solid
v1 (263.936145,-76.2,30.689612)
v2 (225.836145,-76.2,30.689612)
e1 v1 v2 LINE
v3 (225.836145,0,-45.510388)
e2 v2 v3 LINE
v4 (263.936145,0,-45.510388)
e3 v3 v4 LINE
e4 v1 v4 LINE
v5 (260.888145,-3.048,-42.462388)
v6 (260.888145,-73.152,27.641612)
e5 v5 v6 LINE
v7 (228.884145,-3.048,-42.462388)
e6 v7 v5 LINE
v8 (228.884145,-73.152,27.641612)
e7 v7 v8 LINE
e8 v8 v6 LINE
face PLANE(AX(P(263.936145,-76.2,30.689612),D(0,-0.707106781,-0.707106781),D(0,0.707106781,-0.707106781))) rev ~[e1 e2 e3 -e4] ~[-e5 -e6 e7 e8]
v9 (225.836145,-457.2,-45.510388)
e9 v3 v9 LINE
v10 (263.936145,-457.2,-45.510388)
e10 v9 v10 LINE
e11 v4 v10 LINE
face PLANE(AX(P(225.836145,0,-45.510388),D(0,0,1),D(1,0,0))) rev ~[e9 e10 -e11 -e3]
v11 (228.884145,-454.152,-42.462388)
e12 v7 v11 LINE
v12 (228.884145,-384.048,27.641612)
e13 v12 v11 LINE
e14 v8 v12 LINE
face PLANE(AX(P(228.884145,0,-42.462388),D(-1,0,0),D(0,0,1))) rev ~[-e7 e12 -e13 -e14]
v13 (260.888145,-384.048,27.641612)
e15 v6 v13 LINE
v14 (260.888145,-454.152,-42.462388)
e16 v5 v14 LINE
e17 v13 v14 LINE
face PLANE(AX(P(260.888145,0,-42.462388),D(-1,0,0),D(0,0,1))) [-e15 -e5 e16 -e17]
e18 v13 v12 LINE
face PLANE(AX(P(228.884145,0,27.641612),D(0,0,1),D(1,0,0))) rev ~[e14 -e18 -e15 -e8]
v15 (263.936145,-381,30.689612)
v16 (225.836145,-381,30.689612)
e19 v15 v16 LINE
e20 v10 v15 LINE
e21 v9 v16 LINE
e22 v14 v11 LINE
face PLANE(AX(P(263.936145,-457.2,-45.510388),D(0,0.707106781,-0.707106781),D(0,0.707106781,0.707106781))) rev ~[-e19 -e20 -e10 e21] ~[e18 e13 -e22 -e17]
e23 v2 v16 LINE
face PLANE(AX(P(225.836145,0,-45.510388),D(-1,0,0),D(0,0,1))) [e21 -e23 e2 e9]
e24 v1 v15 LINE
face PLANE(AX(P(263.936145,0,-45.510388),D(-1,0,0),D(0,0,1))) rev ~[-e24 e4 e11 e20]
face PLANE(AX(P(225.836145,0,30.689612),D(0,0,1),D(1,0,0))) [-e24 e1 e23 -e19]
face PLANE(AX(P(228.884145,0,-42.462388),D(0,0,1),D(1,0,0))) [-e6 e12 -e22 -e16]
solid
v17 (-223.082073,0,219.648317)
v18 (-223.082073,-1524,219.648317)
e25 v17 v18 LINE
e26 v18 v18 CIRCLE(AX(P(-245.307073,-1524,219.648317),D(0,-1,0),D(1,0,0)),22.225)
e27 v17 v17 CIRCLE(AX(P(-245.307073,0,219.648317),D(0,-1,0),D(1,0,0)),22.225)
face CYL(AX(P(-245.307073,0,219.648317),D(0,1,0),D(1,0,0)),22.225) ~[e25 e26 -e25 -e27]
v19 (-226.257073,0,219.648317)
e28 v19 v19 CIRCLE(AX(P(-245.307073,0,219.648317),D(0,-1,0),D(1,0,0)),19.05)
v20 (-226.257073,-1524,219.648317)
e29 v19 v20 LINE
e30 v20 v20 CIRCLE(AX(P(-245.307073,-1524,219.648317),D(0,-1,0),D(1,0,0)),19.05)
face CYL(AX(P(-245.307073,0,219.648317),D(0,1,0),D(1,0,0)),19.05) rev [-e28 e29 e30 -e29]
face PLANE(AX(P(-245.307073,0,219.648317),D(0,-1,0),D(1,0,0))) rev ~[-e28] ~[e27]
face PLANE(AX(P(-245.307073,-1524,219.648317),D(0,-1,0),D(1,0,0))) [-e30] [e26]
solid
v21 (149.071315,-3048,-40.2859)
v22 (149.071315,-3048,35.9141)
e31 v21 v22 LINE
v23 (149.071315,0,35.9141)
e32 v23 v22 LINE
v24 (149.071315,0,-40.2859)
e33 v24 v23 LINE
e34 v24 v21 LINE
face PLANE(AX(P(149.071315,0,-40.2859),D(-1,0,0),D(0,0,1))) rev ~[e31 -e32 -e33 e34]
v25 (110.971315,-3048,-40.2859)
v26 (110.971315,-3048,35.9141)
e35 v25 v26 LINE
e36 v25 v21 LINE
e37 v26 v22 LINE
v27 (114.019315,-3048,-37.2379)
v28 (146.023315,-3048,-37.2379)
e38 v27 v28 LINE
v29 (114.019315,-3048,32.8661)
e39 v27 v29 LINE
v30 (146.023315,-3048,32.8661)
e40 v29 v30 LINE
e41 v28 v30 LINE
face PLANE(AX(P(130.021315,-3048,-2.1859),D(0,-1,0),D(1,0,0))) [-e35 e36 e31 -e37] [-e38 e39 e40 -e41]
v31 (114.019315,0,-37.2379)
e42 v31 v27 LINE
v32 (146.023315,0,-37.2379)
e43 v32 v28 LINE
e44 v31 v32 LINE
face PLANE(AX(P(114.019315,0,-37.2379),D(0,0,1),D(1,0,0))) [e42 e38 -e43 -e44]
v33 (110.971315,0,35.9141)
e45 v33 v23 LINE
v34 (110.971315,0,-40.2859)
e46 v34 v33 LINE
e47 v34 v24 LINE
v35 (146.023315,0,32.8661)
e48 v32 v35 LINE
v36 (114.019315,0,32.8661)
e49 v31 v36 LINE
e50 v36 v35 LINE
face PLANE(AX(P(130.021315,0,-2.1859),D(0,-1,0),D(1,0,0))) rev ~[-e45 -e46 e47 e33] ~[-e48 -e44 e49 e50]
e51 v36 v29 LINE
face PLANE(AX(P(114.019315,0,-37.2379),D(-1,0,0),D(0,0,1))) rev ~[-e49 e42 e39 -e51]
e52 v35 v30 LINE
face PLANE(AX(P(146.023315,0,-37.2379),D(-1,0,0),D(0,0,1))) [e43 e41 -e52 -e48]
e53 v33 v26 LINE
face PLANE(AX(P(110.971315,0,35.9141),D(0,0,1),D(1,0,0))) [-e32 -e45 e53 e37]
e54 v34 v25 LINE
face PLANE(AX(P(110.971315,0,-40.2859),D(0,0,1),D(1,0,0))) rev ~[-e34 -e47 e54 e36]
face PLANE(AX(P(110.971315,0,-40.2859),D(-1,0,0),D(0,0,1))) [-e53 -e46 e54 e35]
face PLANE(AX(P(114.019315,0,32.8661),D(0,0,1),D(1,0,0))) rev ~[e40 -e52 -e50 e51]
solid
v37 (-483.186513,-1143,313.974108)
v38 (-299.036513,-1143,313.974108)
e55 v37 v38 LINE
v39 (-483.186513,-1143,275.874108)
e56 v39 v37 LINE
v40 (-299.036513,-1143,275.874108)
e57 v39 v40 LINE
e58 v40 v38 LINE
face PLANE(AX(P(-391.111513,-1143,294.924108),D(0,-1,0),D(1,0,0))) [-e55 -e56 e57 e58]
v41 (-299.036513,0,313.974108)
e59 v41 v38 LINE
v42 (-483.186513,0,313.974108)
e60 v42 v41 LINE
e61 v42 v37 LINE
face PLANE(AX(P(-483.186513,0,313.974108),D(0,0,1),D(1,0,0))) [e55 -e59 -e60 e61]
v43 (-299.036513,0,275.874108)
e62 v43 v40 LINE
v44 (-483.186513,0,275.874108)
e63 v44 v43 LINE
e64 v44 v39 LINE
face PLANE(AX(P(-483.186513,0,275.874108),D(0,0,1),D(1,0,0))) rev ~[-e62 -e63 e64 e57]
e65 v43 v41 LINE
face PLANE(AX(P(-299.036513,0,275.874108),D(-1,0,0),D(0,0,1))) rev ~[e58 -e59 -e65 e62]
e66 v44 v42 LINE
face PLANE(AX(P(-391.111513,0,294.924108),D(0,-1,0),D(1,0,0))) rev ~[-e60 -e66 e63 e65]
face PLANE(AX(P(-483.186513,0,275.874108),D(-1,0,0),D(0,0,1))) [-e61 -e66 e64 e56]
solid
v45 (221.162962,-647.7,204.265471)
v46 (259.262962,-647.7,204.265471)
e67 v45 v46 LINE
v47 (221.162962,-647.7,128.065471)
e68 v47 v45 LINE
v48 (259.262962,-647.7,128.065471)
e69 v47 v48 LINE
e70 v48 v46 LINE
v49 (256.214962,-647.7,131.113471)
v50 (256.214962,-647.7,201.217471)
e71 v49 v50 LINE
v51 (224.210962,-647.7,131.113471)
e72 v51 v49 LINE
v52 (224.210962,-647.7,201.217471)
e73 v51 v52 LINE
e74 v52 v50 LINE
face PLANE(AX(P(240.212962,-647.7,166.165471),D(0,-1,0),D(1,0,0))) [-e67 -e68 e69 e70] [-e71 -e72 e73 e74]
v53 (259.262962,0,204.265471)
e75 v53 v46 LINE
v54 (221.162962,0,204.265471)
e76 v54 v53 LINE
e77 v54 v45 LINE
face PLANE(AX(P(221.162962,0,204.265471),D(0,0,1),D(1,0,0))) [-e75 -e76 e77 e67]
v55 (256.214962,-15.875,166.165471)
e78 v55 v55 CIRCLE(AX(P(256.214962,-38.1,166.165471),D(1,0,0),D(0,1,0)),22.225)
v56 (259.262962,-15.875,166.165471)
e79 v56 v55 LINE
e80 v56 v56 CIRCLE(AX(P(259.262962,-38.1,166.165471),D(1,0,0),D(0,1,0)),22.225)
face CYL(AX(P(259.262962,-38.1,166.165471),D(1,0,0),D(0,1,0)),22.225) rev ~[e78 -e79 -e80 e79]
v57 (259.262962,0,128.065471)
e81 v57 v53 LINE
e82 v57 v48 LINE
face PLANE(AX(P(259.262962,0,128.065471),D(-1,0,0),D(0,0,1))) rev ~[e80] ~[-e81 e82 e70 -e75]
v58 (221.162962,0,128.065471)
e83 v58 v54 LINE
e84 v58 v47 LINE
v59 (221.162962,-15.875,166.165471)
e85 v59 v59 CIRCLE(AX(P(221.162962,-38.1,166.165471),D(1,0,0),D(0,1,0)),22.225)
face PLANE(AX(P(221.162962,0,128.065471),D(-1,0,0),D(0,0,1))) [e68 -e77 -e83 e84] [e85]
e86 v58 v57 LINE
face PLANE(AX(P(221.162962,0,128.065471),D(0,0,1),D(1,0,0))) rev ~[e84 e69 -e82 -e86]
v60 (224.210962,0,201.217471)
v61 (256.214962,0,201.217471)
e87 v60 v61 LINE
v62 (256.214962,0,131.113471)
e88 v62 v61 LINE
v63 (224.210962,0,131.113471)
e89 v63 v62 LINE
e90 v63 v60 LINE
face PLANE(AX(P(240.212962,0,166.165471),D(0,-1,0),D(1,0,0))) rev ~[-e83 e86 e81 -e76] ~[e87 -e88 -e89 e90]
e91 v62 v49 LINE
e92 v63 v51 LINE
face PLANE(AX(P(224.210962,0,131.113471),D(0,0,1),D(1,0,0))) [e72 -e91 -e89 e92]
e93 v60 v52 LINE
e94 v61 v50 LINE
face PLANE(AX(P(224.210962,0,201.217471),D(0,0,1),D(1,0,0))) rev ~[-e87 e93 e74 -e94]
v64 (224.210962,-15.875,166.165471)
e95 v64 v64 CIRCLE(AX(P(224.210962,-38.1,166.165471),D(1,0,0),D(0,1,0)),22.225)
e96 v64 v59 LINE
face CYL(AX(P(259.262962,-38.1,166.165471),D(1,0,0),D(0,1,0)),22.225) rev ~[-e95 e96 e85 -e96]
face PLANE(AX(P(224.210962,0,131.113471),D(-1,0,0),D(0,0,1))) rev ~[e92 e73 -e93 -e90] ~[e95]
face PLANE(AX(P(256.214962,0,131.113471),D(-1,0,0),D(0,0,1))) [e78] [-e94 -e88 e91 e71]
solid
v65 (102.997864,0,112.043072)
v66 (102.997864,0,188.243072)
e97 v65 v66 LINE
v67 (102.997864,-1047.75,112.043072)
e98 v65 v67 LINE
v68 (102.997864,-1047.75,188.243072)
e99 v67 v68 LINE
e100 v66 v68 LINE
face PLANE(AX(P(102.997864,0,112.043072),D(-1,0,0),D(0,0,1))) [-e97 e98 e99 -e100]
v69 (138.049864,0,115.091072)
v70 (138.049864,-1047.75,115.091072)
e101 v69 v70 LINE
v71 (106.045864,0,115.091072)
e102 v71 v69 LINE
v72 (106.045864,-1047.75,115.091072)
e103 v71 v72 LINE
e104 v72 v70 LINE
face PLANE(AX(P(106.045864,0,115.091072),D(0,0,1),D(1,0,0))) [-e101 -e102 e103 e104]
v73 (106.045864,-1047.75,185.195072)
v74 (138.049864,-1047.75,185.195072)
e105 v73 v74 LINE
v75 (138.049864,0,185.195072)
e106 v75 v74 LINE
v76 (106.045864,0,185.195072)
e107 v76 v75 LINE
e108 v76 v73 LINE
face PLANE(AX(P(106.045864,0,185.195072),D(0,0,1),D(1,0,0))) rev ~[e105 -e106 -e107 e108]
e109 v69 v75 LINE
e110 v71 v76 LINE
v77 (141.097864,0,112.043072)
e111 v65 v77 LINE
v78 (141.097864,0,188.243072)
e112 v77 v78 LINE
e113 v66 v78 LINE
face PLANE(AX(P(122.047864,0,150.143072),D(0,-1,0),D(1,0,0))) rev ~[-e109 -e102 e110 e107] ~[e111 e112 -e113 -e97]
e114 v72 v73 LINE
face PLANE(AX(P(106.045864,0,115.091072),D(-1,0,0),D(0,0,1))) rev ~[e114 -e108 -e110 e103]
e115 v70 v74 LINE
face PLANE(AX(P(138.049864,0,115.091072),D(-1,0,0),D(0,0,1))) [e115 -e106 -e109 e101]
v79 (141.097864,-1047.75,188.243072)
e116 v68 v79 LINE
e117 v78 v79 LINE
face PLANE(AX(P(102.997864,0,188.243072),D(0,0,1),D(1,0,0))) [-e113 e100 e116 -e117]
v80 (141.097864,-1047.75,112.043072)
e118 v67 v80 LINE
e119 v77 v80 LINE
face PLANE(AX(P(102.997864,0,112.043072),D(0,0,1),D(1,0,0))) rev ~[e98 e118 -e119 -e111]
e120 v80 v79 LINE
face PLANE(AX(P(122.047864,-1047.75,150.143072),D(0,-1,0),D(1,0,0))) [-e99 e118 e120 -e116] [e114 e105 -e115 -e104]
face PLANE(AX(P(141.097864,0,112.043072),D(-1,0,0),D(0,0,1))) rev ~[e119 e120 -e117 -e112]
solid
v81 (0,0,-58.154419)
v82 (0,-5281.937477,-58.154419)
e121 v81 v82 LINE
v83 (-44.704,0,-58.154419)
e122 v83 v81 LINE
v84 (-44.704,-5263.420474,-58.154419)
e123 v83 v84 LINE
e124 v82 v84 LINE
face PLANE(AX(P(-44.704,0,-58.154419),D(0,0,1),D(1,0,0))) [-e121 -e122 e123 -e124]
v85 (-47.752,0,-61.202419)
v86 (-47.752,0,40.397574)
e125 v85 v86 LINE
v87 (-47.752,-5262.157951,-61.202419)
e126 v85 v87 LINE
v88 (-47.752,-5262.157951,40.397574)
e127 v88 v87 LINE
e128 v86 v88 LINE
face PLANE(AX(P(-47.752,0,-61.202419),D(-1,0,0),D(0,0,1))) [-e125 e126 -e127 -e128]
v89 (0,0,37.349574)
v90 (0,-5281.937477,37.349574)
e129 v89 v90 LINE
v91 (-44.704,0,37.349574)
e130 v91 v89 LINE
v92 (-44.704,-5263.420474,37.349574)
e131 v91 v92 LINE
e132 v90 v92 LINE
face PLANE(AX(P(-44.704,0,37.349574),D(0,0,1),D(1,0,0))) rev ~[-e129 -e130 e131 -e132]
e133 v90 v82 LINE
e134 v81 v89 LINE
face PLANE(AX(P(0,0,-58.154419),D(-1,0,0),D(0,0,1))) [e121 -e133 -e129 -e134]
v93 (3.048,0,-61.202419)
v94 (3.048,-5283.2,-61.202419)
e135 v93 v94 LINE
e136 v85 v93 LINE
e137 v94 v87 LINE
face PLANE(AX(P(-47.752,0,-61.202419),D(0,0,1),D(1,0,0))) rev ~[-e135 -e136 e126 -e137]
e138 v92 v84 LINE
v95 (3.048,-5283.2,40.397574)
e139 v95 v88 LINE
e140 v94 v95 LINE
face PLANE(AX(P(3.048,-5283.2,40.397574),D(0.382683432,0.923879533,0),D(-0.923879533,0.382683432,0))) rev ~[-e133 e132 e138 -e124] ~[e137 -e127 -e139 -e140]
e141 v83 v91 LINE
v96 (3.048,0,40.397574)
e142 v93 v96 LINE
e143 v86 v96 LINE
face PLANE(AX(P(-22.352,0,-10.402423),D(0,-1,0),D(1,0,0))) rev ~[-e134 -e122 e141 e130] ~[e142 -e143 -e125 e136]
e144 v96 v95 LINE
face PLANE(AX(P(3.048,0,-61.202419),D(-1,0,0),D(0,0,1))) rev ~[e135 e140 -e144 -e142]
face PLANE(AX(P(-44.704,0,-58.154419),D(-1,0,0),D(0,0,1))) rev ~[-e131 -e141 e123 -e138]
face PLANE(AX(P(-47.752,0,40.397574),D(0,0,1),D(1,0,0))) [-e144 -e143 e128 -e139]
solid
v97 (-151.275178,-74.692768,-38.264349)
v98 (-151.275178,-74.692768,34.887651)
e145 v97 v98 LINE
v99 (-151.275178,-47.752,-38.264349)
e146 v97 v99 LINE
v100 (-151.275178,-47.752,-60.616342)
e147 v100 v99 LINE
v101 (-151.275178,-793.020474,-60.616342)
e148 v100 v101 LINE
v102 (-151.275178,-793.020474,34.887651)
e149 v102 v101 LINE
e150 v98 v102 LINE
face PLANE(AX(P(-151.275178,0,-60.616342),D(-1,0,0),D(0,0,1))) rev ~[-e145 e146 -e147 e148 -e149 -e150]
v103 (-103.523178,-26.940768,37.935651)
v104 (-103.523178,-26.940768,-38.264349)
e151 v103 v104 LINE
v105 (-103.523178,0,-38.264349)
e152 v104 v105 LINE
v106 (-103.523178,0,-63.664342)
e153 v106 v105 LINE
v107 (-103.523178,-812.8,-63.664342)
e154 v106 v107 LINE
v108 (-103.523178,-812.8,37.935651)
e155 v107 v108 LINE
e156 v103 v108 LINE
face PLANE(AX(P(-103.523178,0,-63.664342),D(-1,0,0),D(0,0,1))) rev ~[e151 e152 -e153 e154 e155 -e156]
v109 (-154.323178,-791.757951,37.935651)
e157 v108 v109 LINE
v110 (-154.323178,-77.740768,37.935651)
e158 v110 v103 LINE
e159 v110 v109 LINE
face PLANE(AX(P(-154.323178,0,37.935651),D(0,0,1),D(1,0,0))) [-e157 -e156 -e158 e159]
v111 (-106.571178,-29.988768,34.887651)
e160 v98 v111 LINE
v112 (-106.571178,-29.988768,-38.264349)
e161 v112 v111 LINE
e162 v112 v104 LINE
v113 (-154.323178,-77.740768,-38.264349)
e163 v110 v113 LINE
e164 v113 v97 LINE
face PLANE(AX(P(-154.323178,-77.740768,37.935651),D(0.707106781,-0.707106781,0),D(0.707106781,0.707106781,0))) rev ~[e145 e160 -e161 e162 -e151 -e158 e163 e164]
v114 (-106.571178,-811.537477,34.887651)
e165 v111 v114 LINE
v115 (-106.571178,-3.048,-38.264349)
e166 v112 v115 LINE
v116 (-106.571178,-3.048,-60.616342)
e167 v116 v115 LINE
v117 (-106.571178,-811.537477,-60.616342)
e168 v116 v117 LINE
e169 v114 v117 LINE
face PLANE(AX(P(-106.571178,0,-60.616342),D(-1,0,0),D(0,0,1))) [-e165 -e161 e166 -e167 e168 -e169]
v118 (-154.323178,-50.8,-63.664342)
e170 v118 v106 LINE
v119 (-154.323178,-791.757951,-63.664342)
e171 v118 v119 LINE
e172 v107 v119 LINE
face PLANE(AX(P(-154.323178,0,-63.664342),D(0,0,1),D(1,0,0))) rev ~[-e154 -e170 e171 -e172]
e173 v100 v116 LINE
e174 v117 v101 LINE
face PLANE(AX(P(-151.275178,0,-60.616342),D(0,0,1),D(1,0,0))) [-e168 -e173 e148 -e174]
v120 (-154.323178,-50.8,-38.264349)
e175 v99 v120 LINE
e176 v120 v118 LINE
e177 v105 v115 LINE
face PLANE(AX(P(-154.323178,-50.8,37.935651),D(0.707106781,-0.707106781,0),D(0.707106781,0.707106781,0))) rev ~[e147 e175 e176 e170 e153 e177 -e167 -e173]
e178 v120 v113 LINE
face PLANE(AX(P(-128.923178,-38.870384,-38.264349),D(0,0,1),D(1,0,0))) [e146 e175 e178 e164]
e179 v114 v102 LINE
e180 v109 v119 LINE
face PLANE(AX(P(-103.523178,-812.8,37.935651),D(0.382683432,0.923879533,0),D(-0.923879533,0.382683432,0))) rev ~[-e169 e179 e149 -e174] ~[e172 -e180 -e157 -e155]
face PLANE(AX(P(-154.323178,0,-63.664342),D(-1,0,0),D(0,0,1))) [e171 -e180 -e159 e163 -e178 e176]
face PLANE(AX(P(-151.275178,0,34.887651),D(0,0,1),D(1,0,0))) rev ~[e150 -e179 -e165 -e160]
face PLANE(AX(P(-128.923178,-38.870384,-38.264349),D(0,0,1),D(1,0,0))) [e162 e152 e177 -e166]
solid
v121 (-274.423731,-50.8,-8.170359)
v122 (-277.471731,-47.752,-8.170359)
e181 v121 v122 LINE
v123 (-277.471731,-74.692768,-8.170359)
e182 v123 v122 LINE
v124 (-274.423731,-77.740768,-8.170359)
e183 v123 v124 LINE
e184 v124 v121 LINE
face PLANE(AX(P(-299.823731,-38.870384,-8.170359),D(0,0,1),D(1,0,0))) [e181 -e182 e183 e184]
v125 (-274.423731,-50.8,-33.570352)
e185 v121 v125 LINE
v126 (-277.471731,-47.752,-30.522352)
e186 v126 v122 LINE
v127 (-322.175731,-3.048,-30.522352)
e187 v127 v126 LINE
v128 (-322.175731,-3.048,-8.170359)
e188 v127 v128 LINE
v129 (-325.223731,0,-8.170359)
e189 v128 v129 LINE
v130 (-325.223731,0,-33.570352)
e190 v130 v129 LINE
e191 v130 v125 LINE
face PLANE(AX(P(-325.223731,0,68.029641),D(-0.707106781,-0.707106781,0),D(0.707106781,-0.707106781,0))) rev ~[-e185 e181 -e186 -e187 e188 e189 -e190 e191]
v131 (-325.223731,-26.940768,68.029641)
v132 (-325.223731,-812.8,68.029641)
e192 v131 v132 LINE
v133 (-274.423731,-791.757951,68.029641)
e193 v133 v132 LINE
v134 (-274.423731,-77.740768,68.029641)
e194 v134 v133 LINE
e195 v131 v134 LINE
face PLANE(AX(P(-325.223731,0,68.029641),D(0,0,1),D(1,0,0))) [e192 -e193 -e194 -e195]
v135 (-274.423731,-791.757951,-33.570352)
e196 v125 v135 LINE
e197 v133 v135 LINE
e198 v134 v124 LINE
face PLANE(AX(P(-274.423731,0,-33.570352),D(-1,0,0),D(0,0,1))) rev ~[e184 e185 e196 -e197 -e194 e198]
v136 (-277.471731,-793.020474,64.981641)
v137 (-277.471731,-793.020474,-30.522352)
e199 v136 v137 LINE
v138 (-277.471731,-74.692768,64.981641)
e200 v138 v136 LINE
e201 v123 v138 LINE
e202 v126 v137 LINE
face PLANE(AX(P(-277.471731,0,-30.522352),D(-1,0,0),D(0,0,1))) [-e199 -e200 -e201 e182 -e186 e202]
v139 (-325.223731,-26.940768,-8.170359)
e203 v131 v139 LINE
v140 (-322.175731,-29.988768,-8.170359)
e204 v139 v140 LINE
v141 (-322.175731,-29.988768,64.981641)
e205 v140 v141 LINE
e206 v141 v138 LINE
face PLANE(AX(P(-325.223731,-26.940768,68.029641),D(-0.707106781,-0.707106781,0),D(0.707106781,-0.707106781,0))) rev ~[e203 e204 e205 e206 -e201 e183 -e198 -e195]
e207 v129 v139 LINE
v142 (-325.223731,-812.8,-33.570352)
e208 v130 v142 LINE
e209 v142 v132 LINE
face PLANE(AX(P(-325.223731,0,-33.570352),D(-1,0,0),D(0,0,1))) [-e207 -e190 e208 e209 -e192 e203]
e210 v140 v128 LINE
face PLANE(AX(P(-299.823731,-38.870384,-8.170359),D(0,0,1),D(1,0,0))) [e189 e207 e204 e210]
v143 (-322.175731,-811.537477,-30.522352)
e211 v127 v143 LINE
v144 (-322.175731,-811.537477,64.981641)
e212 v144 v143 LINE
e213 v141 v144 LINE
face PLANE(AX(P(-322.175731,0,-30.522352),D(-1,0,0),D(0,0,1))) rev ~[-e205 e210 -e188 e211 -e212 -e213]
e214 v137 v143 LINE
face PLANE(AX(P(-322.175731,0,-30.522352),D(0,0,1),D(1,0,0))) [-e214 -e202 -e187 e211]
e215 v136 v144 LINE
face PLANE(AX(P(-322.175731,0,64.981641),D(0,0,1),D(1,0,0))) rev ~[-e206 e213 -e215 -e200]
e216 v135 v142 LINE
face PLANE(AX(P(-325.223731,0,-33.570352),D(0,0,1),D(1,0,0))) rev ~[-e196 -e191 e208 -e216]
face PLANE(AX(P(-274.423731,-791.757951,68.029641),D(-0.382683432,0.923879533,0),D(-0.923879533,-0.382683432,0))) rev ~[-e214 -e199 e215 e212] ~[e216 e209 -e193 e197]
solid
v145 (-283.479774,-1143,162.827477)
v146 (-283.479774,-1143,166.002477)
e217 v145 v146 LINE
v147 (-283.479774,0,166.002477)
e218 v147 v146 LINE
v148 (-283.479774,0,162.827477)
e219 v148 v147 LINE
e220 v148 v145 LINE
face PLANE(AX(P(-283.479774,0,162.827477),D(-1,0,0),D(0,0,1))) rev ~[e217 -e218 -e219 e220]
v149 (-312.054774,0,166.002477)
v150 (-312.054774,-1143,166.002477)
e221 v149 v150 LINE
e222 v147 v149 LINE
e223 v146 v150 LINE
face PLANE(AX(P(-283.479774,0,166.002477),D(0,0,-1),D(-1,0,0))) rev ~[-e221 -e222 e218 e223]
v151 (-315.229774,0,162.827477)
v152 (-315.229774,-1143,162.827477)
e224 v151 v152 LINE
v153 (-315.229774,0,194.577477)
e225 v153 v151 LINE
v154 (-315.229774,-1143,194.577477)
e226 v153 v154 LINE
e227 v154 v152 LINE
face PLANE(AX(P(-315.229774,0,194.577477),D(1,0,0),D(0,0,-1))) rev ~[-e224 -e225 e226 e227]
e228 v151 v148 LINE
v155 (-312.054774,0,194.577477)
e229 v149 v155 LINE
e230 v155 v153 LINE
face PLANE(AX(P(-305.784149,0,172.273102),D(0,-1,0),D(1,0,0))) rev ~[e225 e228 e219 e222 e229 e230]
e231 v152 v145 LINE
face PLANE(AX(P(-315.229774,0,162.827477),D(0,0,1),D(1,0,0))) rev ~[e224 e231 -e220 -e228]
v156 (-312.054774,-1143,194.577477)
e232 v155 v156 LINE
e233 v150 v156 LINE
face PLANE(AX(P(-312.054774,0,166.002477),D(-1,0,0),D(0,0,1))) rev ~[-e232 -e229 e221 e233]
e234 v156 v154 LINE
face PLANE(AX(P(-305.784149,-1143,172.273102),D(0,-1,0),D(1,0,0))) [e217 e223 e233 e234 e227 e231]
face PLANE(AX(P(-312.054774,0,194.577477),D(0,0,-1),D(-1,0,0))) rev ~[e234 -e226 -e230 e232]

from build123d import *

# Parameters (mm, degrees)
F0_W      = 184.15
F0_H      = 38.1
F1_DEPTH  = 1143
F0_R      = 22.225
F0_R_2    = 19.05
F2_DEPTH  = 1524
F3_DEPTH  = 1143
F0_W_2    = 50.8
F0_H_2    = 101.5999930616
F0_W_3    = 44.704
F0_H_3    = 95.5039930616
F4_DEPTH  = 812.8
F5_DEPTH  = 5283.2
F0_W_4    = 38.1
F0_H_4    = 76.2
F0_W_5    = 32.004
F0_H_5    = 70.104
F6_DEPTH  = 1047.75
F7_DEPTH  = 3048
F8_DEPTH  = 647.7
F9_DEPTH  = 457.2
F12_R     = 22.225
F13_DEPTH = 38.1
F15_DEPTH = 38.1
F16_DEPTH = 101.6
F17_DEPTH = 76.2
F18_DEPTH = 101.6
F19_DEPTH = 101.6
F20_DEPTH = 812.8
F22_DEPTH = 101.6
F23_DEPTH = 76.2


with BuildPart() as f1:
    # F0 (on Front) → F1 (new body)
    with BuildSketch(Plane.XZ):
        with Locations((-391.1115131855, 294.9241080761)):
            Rectangle(F0_W, F0_H)
    extrude(amount=F1_DEPTH)


with BuildPart() as f2:
    # F0 (on Front) → F2 (new body)
    with BuildSketch(Plane.XZ):
        with Locations((-245.3070729971, 219.6483165026)):
            Circle(F0_R)
        with Locations((-245.3070729971, 219.6483165026)):
            Circle(F0_R_2, mode=Mode.SUBTRACT)
    extrude(amount=F2_DEPTH)


with BuildPart() as f3:
    # F0 (on Front) → F3 (new body)
    with BuildSketch(Plane.XZ):
        Polygon((-312.0547735214, 194.5774768591), (-315.2297735214, 194.5774768591), (-315.2297735214, 162.8274768591), (-283.4797735214, 162.8274768591), (-283.4797735214, 166.0024768591), (-312.0547735214, 166.0024768591), align=None)
    extrude(amount=F3_DEPTH)


with BuildPart() as f4:
    # F0 (on Front) → F4 (new body)
    with BuildSketch(Plane.XZ):
        with Locations((-128.9231777191, -12.8643456846)):
            Rectangle(F0_W_2, F0_H_2)
        with Locations((-128.9231777191, -12.8643456846)):
            Rectangle(F0_W_3, F0_H_3, mode=Mode.SUBTRACT)
    extrude(amount=F4_DEPTH)

    # F10 (on face) → F16 (cut)
    with BuildSketch(Plane.XY.offset(37.9356508461)):
        Polygon((-154.3231777191, -50.8), (-103.5231777191, 0), (-154.3231777191, 0), align=None)
    extrude(amount=-F16_DEPTH, mode=Mode.SUBTRACT)

    # F10 (on face) → F17 (cut)
    with BuildSketch(Plane.XY.offset(37.9356508461)):
        Polygon((-154.3231777191, -77.7407683632), (-103.5231777191, -26.9407683632), (-103.5231777191, 0), (-154.3231777191, -50.8), align=None)
    extrude(amount=-F17_DEPTH, mode=Mode.SUBTRACT)

    # F10 (on face) → F18 (cut)
    with BuildSketch(Plane.XY.offset(37.9356508461)):
        Polygon((-154.3231777191, -812.8), (-103.5231777191, -812.8), (-154.3231777191, -791.7579510314), align=None)
    extrude(amount=-F18_DEPTH, mode=Mode.SUBTRACT)


with BuildPart() as f5:
    # F0 (on Front) → F5 (new body)
    with BuildSketch(Plane.XZ):
        with Locations((-22.352, -10.4024226334)):
            Rectangle(F0_W_2, F0_H_2)
        with Locations((-22.352, -10.4024226334)):
            Rectangle(F0_W_3, F0_H_3, mode=Mode.SUBTRACT)
    extrude(amount=F5_DEPTH)

    # F11 (on face) → F19 (cut)
    with BuildSketch(Plane.XY.offset(40.3975738974)):
        Polygon((-47.752, -5283.2), (3.048, -5283.2), (-47.752, -5262.1579510314), align=None)
    extrude(amount=-F19_DEPTH, mode=Mode.SUBTRACT)


with BuildPart() as f6:
    # F0 (on Front) → F6 (new body)
    with BuildSketch(Plane.XZ):
        with Locations((122.0478639007, 150.1430720091)):
            Rectangle(F0_W_4, F0_H_4)
        with Locations((122.0478639007, 150.1430720091)):
            Rectangle(F0_W_5, F0_H_5, mode=Mode.SUBTRACT)
    extrude(amount=F6_DEPTH)


with BuildPart() as f7:
    # F0 (on Front) → F7 (new body)
    with BuildSketch(Plane.XZ):
        with Locations((130.0213145256, -2.1859001739)):
            Rectangle(F0_W_4, F0_H_4)
        with Locations((130.0213145256, -2.1859001739)):
            Rectangle(F0_W_5, F0_H_5, mode=Mode.SUBTRACT)
    extrude(amount=F7_DEPTH)


with BuildPart() as f8:
    # F0 (on Front) → F8 (new body)
    with BuildSketch(Plane.XZ):
        with Locations((240.2129620314, 166.165471077)):
            Rectangle(F0_W_4, F0_H_4)
        with Locations((240.2129620314, 166.165471077)):
            Rectangle(F0_W_5, F0_H_5, mode=Mode.SUBTRACT)
    extrude(amount=F8_DEPTH)

    # F12 (on face) → F13 (cut)
    with BuildSketch(Plane.YZ.offset(259.2629620314)):
        with Locations((-38.1, 166.165471077)):
            Circle(F12_R)
    extrude(amount=-F13_DEPTH, mode=Mode.SUBTRACT)


with BuildPart() as f9:
    # F0 (on Front) → F9 (new body)
    with BuildSketch(Plane.XZ):
        with Locations((244.8861449957, -7.4103875086)):
            Rectangle(F0_W_4, F0_H_4)
        with Locations((244.8861449957, -7.4103875086)):
            Rectangle(F0_W_5, F0_H_5, mode=Mode.SUBTRACT)
    extrude(amount=F9_DEPTH)

    # F14 (on face) → F15 (cut)
    with BuildSketch(Plane.YZ.offset(263.9361449957)):
        Polygon((-457.2, 30.6896124914), (-457.2, -45.5103875086), (-381, 30.6896124914), align=None)
        Polygon((-76.2, 30.6896124914), (0, -45.5103875086), (0, 30.6896124914), align=None)
    extrude(amount=-F15_DEPTH, mode=Mode.SUBTRACT)


with BuildPart() as f20:
    # F0 (on Front) → F20 (new body)
    with BuildSketch(Plane.XZ):
        with Locations((-299.823731184, 17.2296445817)):
            Rectangle(F0_W_2, F0_H_2)
        with Locations((-299.823731184, 17.2296445817)):
            Rectangle(F0_W_3, F0_H_3, mode=Mode.SUBTRACT)
    extrude(amount=F20_DEPTH)

    # F21 (on face) → F22 (cut)
    with BuildSketch(Plane.XY.offset(68.0296411125)):
        Polygon((-274.423731184, -791.7579510314), (-325.223731184, -812.8), (-274.423731184, -812.8), align=None)
        Polygon((-274.423731184, 0), (-325.223731184, 0), (-274.423731184, -50.8), align=None)
    extrude(amount=-F22_DEPTH, mode=Mode.SUBTRACT)

    # F21 (on face) → F23 (cut)
    with BuildSketch(Plane.XY.offset(68.0296411125)):
        Polygon((-325.223731184, 0), (-325.223731184, -26.9407683632), (-274.423731184, -77.7407683632), (-274.423731184, -50.8), align=None)
    extrude(amount=-F23_DEPTH, mode=Mode.SUBTRACT)


solid = Compound([f1.part, f2.part, f3.part, f4.part, f5.part, f6.part, f7.part, f8.part, f9.part, f20.part])
